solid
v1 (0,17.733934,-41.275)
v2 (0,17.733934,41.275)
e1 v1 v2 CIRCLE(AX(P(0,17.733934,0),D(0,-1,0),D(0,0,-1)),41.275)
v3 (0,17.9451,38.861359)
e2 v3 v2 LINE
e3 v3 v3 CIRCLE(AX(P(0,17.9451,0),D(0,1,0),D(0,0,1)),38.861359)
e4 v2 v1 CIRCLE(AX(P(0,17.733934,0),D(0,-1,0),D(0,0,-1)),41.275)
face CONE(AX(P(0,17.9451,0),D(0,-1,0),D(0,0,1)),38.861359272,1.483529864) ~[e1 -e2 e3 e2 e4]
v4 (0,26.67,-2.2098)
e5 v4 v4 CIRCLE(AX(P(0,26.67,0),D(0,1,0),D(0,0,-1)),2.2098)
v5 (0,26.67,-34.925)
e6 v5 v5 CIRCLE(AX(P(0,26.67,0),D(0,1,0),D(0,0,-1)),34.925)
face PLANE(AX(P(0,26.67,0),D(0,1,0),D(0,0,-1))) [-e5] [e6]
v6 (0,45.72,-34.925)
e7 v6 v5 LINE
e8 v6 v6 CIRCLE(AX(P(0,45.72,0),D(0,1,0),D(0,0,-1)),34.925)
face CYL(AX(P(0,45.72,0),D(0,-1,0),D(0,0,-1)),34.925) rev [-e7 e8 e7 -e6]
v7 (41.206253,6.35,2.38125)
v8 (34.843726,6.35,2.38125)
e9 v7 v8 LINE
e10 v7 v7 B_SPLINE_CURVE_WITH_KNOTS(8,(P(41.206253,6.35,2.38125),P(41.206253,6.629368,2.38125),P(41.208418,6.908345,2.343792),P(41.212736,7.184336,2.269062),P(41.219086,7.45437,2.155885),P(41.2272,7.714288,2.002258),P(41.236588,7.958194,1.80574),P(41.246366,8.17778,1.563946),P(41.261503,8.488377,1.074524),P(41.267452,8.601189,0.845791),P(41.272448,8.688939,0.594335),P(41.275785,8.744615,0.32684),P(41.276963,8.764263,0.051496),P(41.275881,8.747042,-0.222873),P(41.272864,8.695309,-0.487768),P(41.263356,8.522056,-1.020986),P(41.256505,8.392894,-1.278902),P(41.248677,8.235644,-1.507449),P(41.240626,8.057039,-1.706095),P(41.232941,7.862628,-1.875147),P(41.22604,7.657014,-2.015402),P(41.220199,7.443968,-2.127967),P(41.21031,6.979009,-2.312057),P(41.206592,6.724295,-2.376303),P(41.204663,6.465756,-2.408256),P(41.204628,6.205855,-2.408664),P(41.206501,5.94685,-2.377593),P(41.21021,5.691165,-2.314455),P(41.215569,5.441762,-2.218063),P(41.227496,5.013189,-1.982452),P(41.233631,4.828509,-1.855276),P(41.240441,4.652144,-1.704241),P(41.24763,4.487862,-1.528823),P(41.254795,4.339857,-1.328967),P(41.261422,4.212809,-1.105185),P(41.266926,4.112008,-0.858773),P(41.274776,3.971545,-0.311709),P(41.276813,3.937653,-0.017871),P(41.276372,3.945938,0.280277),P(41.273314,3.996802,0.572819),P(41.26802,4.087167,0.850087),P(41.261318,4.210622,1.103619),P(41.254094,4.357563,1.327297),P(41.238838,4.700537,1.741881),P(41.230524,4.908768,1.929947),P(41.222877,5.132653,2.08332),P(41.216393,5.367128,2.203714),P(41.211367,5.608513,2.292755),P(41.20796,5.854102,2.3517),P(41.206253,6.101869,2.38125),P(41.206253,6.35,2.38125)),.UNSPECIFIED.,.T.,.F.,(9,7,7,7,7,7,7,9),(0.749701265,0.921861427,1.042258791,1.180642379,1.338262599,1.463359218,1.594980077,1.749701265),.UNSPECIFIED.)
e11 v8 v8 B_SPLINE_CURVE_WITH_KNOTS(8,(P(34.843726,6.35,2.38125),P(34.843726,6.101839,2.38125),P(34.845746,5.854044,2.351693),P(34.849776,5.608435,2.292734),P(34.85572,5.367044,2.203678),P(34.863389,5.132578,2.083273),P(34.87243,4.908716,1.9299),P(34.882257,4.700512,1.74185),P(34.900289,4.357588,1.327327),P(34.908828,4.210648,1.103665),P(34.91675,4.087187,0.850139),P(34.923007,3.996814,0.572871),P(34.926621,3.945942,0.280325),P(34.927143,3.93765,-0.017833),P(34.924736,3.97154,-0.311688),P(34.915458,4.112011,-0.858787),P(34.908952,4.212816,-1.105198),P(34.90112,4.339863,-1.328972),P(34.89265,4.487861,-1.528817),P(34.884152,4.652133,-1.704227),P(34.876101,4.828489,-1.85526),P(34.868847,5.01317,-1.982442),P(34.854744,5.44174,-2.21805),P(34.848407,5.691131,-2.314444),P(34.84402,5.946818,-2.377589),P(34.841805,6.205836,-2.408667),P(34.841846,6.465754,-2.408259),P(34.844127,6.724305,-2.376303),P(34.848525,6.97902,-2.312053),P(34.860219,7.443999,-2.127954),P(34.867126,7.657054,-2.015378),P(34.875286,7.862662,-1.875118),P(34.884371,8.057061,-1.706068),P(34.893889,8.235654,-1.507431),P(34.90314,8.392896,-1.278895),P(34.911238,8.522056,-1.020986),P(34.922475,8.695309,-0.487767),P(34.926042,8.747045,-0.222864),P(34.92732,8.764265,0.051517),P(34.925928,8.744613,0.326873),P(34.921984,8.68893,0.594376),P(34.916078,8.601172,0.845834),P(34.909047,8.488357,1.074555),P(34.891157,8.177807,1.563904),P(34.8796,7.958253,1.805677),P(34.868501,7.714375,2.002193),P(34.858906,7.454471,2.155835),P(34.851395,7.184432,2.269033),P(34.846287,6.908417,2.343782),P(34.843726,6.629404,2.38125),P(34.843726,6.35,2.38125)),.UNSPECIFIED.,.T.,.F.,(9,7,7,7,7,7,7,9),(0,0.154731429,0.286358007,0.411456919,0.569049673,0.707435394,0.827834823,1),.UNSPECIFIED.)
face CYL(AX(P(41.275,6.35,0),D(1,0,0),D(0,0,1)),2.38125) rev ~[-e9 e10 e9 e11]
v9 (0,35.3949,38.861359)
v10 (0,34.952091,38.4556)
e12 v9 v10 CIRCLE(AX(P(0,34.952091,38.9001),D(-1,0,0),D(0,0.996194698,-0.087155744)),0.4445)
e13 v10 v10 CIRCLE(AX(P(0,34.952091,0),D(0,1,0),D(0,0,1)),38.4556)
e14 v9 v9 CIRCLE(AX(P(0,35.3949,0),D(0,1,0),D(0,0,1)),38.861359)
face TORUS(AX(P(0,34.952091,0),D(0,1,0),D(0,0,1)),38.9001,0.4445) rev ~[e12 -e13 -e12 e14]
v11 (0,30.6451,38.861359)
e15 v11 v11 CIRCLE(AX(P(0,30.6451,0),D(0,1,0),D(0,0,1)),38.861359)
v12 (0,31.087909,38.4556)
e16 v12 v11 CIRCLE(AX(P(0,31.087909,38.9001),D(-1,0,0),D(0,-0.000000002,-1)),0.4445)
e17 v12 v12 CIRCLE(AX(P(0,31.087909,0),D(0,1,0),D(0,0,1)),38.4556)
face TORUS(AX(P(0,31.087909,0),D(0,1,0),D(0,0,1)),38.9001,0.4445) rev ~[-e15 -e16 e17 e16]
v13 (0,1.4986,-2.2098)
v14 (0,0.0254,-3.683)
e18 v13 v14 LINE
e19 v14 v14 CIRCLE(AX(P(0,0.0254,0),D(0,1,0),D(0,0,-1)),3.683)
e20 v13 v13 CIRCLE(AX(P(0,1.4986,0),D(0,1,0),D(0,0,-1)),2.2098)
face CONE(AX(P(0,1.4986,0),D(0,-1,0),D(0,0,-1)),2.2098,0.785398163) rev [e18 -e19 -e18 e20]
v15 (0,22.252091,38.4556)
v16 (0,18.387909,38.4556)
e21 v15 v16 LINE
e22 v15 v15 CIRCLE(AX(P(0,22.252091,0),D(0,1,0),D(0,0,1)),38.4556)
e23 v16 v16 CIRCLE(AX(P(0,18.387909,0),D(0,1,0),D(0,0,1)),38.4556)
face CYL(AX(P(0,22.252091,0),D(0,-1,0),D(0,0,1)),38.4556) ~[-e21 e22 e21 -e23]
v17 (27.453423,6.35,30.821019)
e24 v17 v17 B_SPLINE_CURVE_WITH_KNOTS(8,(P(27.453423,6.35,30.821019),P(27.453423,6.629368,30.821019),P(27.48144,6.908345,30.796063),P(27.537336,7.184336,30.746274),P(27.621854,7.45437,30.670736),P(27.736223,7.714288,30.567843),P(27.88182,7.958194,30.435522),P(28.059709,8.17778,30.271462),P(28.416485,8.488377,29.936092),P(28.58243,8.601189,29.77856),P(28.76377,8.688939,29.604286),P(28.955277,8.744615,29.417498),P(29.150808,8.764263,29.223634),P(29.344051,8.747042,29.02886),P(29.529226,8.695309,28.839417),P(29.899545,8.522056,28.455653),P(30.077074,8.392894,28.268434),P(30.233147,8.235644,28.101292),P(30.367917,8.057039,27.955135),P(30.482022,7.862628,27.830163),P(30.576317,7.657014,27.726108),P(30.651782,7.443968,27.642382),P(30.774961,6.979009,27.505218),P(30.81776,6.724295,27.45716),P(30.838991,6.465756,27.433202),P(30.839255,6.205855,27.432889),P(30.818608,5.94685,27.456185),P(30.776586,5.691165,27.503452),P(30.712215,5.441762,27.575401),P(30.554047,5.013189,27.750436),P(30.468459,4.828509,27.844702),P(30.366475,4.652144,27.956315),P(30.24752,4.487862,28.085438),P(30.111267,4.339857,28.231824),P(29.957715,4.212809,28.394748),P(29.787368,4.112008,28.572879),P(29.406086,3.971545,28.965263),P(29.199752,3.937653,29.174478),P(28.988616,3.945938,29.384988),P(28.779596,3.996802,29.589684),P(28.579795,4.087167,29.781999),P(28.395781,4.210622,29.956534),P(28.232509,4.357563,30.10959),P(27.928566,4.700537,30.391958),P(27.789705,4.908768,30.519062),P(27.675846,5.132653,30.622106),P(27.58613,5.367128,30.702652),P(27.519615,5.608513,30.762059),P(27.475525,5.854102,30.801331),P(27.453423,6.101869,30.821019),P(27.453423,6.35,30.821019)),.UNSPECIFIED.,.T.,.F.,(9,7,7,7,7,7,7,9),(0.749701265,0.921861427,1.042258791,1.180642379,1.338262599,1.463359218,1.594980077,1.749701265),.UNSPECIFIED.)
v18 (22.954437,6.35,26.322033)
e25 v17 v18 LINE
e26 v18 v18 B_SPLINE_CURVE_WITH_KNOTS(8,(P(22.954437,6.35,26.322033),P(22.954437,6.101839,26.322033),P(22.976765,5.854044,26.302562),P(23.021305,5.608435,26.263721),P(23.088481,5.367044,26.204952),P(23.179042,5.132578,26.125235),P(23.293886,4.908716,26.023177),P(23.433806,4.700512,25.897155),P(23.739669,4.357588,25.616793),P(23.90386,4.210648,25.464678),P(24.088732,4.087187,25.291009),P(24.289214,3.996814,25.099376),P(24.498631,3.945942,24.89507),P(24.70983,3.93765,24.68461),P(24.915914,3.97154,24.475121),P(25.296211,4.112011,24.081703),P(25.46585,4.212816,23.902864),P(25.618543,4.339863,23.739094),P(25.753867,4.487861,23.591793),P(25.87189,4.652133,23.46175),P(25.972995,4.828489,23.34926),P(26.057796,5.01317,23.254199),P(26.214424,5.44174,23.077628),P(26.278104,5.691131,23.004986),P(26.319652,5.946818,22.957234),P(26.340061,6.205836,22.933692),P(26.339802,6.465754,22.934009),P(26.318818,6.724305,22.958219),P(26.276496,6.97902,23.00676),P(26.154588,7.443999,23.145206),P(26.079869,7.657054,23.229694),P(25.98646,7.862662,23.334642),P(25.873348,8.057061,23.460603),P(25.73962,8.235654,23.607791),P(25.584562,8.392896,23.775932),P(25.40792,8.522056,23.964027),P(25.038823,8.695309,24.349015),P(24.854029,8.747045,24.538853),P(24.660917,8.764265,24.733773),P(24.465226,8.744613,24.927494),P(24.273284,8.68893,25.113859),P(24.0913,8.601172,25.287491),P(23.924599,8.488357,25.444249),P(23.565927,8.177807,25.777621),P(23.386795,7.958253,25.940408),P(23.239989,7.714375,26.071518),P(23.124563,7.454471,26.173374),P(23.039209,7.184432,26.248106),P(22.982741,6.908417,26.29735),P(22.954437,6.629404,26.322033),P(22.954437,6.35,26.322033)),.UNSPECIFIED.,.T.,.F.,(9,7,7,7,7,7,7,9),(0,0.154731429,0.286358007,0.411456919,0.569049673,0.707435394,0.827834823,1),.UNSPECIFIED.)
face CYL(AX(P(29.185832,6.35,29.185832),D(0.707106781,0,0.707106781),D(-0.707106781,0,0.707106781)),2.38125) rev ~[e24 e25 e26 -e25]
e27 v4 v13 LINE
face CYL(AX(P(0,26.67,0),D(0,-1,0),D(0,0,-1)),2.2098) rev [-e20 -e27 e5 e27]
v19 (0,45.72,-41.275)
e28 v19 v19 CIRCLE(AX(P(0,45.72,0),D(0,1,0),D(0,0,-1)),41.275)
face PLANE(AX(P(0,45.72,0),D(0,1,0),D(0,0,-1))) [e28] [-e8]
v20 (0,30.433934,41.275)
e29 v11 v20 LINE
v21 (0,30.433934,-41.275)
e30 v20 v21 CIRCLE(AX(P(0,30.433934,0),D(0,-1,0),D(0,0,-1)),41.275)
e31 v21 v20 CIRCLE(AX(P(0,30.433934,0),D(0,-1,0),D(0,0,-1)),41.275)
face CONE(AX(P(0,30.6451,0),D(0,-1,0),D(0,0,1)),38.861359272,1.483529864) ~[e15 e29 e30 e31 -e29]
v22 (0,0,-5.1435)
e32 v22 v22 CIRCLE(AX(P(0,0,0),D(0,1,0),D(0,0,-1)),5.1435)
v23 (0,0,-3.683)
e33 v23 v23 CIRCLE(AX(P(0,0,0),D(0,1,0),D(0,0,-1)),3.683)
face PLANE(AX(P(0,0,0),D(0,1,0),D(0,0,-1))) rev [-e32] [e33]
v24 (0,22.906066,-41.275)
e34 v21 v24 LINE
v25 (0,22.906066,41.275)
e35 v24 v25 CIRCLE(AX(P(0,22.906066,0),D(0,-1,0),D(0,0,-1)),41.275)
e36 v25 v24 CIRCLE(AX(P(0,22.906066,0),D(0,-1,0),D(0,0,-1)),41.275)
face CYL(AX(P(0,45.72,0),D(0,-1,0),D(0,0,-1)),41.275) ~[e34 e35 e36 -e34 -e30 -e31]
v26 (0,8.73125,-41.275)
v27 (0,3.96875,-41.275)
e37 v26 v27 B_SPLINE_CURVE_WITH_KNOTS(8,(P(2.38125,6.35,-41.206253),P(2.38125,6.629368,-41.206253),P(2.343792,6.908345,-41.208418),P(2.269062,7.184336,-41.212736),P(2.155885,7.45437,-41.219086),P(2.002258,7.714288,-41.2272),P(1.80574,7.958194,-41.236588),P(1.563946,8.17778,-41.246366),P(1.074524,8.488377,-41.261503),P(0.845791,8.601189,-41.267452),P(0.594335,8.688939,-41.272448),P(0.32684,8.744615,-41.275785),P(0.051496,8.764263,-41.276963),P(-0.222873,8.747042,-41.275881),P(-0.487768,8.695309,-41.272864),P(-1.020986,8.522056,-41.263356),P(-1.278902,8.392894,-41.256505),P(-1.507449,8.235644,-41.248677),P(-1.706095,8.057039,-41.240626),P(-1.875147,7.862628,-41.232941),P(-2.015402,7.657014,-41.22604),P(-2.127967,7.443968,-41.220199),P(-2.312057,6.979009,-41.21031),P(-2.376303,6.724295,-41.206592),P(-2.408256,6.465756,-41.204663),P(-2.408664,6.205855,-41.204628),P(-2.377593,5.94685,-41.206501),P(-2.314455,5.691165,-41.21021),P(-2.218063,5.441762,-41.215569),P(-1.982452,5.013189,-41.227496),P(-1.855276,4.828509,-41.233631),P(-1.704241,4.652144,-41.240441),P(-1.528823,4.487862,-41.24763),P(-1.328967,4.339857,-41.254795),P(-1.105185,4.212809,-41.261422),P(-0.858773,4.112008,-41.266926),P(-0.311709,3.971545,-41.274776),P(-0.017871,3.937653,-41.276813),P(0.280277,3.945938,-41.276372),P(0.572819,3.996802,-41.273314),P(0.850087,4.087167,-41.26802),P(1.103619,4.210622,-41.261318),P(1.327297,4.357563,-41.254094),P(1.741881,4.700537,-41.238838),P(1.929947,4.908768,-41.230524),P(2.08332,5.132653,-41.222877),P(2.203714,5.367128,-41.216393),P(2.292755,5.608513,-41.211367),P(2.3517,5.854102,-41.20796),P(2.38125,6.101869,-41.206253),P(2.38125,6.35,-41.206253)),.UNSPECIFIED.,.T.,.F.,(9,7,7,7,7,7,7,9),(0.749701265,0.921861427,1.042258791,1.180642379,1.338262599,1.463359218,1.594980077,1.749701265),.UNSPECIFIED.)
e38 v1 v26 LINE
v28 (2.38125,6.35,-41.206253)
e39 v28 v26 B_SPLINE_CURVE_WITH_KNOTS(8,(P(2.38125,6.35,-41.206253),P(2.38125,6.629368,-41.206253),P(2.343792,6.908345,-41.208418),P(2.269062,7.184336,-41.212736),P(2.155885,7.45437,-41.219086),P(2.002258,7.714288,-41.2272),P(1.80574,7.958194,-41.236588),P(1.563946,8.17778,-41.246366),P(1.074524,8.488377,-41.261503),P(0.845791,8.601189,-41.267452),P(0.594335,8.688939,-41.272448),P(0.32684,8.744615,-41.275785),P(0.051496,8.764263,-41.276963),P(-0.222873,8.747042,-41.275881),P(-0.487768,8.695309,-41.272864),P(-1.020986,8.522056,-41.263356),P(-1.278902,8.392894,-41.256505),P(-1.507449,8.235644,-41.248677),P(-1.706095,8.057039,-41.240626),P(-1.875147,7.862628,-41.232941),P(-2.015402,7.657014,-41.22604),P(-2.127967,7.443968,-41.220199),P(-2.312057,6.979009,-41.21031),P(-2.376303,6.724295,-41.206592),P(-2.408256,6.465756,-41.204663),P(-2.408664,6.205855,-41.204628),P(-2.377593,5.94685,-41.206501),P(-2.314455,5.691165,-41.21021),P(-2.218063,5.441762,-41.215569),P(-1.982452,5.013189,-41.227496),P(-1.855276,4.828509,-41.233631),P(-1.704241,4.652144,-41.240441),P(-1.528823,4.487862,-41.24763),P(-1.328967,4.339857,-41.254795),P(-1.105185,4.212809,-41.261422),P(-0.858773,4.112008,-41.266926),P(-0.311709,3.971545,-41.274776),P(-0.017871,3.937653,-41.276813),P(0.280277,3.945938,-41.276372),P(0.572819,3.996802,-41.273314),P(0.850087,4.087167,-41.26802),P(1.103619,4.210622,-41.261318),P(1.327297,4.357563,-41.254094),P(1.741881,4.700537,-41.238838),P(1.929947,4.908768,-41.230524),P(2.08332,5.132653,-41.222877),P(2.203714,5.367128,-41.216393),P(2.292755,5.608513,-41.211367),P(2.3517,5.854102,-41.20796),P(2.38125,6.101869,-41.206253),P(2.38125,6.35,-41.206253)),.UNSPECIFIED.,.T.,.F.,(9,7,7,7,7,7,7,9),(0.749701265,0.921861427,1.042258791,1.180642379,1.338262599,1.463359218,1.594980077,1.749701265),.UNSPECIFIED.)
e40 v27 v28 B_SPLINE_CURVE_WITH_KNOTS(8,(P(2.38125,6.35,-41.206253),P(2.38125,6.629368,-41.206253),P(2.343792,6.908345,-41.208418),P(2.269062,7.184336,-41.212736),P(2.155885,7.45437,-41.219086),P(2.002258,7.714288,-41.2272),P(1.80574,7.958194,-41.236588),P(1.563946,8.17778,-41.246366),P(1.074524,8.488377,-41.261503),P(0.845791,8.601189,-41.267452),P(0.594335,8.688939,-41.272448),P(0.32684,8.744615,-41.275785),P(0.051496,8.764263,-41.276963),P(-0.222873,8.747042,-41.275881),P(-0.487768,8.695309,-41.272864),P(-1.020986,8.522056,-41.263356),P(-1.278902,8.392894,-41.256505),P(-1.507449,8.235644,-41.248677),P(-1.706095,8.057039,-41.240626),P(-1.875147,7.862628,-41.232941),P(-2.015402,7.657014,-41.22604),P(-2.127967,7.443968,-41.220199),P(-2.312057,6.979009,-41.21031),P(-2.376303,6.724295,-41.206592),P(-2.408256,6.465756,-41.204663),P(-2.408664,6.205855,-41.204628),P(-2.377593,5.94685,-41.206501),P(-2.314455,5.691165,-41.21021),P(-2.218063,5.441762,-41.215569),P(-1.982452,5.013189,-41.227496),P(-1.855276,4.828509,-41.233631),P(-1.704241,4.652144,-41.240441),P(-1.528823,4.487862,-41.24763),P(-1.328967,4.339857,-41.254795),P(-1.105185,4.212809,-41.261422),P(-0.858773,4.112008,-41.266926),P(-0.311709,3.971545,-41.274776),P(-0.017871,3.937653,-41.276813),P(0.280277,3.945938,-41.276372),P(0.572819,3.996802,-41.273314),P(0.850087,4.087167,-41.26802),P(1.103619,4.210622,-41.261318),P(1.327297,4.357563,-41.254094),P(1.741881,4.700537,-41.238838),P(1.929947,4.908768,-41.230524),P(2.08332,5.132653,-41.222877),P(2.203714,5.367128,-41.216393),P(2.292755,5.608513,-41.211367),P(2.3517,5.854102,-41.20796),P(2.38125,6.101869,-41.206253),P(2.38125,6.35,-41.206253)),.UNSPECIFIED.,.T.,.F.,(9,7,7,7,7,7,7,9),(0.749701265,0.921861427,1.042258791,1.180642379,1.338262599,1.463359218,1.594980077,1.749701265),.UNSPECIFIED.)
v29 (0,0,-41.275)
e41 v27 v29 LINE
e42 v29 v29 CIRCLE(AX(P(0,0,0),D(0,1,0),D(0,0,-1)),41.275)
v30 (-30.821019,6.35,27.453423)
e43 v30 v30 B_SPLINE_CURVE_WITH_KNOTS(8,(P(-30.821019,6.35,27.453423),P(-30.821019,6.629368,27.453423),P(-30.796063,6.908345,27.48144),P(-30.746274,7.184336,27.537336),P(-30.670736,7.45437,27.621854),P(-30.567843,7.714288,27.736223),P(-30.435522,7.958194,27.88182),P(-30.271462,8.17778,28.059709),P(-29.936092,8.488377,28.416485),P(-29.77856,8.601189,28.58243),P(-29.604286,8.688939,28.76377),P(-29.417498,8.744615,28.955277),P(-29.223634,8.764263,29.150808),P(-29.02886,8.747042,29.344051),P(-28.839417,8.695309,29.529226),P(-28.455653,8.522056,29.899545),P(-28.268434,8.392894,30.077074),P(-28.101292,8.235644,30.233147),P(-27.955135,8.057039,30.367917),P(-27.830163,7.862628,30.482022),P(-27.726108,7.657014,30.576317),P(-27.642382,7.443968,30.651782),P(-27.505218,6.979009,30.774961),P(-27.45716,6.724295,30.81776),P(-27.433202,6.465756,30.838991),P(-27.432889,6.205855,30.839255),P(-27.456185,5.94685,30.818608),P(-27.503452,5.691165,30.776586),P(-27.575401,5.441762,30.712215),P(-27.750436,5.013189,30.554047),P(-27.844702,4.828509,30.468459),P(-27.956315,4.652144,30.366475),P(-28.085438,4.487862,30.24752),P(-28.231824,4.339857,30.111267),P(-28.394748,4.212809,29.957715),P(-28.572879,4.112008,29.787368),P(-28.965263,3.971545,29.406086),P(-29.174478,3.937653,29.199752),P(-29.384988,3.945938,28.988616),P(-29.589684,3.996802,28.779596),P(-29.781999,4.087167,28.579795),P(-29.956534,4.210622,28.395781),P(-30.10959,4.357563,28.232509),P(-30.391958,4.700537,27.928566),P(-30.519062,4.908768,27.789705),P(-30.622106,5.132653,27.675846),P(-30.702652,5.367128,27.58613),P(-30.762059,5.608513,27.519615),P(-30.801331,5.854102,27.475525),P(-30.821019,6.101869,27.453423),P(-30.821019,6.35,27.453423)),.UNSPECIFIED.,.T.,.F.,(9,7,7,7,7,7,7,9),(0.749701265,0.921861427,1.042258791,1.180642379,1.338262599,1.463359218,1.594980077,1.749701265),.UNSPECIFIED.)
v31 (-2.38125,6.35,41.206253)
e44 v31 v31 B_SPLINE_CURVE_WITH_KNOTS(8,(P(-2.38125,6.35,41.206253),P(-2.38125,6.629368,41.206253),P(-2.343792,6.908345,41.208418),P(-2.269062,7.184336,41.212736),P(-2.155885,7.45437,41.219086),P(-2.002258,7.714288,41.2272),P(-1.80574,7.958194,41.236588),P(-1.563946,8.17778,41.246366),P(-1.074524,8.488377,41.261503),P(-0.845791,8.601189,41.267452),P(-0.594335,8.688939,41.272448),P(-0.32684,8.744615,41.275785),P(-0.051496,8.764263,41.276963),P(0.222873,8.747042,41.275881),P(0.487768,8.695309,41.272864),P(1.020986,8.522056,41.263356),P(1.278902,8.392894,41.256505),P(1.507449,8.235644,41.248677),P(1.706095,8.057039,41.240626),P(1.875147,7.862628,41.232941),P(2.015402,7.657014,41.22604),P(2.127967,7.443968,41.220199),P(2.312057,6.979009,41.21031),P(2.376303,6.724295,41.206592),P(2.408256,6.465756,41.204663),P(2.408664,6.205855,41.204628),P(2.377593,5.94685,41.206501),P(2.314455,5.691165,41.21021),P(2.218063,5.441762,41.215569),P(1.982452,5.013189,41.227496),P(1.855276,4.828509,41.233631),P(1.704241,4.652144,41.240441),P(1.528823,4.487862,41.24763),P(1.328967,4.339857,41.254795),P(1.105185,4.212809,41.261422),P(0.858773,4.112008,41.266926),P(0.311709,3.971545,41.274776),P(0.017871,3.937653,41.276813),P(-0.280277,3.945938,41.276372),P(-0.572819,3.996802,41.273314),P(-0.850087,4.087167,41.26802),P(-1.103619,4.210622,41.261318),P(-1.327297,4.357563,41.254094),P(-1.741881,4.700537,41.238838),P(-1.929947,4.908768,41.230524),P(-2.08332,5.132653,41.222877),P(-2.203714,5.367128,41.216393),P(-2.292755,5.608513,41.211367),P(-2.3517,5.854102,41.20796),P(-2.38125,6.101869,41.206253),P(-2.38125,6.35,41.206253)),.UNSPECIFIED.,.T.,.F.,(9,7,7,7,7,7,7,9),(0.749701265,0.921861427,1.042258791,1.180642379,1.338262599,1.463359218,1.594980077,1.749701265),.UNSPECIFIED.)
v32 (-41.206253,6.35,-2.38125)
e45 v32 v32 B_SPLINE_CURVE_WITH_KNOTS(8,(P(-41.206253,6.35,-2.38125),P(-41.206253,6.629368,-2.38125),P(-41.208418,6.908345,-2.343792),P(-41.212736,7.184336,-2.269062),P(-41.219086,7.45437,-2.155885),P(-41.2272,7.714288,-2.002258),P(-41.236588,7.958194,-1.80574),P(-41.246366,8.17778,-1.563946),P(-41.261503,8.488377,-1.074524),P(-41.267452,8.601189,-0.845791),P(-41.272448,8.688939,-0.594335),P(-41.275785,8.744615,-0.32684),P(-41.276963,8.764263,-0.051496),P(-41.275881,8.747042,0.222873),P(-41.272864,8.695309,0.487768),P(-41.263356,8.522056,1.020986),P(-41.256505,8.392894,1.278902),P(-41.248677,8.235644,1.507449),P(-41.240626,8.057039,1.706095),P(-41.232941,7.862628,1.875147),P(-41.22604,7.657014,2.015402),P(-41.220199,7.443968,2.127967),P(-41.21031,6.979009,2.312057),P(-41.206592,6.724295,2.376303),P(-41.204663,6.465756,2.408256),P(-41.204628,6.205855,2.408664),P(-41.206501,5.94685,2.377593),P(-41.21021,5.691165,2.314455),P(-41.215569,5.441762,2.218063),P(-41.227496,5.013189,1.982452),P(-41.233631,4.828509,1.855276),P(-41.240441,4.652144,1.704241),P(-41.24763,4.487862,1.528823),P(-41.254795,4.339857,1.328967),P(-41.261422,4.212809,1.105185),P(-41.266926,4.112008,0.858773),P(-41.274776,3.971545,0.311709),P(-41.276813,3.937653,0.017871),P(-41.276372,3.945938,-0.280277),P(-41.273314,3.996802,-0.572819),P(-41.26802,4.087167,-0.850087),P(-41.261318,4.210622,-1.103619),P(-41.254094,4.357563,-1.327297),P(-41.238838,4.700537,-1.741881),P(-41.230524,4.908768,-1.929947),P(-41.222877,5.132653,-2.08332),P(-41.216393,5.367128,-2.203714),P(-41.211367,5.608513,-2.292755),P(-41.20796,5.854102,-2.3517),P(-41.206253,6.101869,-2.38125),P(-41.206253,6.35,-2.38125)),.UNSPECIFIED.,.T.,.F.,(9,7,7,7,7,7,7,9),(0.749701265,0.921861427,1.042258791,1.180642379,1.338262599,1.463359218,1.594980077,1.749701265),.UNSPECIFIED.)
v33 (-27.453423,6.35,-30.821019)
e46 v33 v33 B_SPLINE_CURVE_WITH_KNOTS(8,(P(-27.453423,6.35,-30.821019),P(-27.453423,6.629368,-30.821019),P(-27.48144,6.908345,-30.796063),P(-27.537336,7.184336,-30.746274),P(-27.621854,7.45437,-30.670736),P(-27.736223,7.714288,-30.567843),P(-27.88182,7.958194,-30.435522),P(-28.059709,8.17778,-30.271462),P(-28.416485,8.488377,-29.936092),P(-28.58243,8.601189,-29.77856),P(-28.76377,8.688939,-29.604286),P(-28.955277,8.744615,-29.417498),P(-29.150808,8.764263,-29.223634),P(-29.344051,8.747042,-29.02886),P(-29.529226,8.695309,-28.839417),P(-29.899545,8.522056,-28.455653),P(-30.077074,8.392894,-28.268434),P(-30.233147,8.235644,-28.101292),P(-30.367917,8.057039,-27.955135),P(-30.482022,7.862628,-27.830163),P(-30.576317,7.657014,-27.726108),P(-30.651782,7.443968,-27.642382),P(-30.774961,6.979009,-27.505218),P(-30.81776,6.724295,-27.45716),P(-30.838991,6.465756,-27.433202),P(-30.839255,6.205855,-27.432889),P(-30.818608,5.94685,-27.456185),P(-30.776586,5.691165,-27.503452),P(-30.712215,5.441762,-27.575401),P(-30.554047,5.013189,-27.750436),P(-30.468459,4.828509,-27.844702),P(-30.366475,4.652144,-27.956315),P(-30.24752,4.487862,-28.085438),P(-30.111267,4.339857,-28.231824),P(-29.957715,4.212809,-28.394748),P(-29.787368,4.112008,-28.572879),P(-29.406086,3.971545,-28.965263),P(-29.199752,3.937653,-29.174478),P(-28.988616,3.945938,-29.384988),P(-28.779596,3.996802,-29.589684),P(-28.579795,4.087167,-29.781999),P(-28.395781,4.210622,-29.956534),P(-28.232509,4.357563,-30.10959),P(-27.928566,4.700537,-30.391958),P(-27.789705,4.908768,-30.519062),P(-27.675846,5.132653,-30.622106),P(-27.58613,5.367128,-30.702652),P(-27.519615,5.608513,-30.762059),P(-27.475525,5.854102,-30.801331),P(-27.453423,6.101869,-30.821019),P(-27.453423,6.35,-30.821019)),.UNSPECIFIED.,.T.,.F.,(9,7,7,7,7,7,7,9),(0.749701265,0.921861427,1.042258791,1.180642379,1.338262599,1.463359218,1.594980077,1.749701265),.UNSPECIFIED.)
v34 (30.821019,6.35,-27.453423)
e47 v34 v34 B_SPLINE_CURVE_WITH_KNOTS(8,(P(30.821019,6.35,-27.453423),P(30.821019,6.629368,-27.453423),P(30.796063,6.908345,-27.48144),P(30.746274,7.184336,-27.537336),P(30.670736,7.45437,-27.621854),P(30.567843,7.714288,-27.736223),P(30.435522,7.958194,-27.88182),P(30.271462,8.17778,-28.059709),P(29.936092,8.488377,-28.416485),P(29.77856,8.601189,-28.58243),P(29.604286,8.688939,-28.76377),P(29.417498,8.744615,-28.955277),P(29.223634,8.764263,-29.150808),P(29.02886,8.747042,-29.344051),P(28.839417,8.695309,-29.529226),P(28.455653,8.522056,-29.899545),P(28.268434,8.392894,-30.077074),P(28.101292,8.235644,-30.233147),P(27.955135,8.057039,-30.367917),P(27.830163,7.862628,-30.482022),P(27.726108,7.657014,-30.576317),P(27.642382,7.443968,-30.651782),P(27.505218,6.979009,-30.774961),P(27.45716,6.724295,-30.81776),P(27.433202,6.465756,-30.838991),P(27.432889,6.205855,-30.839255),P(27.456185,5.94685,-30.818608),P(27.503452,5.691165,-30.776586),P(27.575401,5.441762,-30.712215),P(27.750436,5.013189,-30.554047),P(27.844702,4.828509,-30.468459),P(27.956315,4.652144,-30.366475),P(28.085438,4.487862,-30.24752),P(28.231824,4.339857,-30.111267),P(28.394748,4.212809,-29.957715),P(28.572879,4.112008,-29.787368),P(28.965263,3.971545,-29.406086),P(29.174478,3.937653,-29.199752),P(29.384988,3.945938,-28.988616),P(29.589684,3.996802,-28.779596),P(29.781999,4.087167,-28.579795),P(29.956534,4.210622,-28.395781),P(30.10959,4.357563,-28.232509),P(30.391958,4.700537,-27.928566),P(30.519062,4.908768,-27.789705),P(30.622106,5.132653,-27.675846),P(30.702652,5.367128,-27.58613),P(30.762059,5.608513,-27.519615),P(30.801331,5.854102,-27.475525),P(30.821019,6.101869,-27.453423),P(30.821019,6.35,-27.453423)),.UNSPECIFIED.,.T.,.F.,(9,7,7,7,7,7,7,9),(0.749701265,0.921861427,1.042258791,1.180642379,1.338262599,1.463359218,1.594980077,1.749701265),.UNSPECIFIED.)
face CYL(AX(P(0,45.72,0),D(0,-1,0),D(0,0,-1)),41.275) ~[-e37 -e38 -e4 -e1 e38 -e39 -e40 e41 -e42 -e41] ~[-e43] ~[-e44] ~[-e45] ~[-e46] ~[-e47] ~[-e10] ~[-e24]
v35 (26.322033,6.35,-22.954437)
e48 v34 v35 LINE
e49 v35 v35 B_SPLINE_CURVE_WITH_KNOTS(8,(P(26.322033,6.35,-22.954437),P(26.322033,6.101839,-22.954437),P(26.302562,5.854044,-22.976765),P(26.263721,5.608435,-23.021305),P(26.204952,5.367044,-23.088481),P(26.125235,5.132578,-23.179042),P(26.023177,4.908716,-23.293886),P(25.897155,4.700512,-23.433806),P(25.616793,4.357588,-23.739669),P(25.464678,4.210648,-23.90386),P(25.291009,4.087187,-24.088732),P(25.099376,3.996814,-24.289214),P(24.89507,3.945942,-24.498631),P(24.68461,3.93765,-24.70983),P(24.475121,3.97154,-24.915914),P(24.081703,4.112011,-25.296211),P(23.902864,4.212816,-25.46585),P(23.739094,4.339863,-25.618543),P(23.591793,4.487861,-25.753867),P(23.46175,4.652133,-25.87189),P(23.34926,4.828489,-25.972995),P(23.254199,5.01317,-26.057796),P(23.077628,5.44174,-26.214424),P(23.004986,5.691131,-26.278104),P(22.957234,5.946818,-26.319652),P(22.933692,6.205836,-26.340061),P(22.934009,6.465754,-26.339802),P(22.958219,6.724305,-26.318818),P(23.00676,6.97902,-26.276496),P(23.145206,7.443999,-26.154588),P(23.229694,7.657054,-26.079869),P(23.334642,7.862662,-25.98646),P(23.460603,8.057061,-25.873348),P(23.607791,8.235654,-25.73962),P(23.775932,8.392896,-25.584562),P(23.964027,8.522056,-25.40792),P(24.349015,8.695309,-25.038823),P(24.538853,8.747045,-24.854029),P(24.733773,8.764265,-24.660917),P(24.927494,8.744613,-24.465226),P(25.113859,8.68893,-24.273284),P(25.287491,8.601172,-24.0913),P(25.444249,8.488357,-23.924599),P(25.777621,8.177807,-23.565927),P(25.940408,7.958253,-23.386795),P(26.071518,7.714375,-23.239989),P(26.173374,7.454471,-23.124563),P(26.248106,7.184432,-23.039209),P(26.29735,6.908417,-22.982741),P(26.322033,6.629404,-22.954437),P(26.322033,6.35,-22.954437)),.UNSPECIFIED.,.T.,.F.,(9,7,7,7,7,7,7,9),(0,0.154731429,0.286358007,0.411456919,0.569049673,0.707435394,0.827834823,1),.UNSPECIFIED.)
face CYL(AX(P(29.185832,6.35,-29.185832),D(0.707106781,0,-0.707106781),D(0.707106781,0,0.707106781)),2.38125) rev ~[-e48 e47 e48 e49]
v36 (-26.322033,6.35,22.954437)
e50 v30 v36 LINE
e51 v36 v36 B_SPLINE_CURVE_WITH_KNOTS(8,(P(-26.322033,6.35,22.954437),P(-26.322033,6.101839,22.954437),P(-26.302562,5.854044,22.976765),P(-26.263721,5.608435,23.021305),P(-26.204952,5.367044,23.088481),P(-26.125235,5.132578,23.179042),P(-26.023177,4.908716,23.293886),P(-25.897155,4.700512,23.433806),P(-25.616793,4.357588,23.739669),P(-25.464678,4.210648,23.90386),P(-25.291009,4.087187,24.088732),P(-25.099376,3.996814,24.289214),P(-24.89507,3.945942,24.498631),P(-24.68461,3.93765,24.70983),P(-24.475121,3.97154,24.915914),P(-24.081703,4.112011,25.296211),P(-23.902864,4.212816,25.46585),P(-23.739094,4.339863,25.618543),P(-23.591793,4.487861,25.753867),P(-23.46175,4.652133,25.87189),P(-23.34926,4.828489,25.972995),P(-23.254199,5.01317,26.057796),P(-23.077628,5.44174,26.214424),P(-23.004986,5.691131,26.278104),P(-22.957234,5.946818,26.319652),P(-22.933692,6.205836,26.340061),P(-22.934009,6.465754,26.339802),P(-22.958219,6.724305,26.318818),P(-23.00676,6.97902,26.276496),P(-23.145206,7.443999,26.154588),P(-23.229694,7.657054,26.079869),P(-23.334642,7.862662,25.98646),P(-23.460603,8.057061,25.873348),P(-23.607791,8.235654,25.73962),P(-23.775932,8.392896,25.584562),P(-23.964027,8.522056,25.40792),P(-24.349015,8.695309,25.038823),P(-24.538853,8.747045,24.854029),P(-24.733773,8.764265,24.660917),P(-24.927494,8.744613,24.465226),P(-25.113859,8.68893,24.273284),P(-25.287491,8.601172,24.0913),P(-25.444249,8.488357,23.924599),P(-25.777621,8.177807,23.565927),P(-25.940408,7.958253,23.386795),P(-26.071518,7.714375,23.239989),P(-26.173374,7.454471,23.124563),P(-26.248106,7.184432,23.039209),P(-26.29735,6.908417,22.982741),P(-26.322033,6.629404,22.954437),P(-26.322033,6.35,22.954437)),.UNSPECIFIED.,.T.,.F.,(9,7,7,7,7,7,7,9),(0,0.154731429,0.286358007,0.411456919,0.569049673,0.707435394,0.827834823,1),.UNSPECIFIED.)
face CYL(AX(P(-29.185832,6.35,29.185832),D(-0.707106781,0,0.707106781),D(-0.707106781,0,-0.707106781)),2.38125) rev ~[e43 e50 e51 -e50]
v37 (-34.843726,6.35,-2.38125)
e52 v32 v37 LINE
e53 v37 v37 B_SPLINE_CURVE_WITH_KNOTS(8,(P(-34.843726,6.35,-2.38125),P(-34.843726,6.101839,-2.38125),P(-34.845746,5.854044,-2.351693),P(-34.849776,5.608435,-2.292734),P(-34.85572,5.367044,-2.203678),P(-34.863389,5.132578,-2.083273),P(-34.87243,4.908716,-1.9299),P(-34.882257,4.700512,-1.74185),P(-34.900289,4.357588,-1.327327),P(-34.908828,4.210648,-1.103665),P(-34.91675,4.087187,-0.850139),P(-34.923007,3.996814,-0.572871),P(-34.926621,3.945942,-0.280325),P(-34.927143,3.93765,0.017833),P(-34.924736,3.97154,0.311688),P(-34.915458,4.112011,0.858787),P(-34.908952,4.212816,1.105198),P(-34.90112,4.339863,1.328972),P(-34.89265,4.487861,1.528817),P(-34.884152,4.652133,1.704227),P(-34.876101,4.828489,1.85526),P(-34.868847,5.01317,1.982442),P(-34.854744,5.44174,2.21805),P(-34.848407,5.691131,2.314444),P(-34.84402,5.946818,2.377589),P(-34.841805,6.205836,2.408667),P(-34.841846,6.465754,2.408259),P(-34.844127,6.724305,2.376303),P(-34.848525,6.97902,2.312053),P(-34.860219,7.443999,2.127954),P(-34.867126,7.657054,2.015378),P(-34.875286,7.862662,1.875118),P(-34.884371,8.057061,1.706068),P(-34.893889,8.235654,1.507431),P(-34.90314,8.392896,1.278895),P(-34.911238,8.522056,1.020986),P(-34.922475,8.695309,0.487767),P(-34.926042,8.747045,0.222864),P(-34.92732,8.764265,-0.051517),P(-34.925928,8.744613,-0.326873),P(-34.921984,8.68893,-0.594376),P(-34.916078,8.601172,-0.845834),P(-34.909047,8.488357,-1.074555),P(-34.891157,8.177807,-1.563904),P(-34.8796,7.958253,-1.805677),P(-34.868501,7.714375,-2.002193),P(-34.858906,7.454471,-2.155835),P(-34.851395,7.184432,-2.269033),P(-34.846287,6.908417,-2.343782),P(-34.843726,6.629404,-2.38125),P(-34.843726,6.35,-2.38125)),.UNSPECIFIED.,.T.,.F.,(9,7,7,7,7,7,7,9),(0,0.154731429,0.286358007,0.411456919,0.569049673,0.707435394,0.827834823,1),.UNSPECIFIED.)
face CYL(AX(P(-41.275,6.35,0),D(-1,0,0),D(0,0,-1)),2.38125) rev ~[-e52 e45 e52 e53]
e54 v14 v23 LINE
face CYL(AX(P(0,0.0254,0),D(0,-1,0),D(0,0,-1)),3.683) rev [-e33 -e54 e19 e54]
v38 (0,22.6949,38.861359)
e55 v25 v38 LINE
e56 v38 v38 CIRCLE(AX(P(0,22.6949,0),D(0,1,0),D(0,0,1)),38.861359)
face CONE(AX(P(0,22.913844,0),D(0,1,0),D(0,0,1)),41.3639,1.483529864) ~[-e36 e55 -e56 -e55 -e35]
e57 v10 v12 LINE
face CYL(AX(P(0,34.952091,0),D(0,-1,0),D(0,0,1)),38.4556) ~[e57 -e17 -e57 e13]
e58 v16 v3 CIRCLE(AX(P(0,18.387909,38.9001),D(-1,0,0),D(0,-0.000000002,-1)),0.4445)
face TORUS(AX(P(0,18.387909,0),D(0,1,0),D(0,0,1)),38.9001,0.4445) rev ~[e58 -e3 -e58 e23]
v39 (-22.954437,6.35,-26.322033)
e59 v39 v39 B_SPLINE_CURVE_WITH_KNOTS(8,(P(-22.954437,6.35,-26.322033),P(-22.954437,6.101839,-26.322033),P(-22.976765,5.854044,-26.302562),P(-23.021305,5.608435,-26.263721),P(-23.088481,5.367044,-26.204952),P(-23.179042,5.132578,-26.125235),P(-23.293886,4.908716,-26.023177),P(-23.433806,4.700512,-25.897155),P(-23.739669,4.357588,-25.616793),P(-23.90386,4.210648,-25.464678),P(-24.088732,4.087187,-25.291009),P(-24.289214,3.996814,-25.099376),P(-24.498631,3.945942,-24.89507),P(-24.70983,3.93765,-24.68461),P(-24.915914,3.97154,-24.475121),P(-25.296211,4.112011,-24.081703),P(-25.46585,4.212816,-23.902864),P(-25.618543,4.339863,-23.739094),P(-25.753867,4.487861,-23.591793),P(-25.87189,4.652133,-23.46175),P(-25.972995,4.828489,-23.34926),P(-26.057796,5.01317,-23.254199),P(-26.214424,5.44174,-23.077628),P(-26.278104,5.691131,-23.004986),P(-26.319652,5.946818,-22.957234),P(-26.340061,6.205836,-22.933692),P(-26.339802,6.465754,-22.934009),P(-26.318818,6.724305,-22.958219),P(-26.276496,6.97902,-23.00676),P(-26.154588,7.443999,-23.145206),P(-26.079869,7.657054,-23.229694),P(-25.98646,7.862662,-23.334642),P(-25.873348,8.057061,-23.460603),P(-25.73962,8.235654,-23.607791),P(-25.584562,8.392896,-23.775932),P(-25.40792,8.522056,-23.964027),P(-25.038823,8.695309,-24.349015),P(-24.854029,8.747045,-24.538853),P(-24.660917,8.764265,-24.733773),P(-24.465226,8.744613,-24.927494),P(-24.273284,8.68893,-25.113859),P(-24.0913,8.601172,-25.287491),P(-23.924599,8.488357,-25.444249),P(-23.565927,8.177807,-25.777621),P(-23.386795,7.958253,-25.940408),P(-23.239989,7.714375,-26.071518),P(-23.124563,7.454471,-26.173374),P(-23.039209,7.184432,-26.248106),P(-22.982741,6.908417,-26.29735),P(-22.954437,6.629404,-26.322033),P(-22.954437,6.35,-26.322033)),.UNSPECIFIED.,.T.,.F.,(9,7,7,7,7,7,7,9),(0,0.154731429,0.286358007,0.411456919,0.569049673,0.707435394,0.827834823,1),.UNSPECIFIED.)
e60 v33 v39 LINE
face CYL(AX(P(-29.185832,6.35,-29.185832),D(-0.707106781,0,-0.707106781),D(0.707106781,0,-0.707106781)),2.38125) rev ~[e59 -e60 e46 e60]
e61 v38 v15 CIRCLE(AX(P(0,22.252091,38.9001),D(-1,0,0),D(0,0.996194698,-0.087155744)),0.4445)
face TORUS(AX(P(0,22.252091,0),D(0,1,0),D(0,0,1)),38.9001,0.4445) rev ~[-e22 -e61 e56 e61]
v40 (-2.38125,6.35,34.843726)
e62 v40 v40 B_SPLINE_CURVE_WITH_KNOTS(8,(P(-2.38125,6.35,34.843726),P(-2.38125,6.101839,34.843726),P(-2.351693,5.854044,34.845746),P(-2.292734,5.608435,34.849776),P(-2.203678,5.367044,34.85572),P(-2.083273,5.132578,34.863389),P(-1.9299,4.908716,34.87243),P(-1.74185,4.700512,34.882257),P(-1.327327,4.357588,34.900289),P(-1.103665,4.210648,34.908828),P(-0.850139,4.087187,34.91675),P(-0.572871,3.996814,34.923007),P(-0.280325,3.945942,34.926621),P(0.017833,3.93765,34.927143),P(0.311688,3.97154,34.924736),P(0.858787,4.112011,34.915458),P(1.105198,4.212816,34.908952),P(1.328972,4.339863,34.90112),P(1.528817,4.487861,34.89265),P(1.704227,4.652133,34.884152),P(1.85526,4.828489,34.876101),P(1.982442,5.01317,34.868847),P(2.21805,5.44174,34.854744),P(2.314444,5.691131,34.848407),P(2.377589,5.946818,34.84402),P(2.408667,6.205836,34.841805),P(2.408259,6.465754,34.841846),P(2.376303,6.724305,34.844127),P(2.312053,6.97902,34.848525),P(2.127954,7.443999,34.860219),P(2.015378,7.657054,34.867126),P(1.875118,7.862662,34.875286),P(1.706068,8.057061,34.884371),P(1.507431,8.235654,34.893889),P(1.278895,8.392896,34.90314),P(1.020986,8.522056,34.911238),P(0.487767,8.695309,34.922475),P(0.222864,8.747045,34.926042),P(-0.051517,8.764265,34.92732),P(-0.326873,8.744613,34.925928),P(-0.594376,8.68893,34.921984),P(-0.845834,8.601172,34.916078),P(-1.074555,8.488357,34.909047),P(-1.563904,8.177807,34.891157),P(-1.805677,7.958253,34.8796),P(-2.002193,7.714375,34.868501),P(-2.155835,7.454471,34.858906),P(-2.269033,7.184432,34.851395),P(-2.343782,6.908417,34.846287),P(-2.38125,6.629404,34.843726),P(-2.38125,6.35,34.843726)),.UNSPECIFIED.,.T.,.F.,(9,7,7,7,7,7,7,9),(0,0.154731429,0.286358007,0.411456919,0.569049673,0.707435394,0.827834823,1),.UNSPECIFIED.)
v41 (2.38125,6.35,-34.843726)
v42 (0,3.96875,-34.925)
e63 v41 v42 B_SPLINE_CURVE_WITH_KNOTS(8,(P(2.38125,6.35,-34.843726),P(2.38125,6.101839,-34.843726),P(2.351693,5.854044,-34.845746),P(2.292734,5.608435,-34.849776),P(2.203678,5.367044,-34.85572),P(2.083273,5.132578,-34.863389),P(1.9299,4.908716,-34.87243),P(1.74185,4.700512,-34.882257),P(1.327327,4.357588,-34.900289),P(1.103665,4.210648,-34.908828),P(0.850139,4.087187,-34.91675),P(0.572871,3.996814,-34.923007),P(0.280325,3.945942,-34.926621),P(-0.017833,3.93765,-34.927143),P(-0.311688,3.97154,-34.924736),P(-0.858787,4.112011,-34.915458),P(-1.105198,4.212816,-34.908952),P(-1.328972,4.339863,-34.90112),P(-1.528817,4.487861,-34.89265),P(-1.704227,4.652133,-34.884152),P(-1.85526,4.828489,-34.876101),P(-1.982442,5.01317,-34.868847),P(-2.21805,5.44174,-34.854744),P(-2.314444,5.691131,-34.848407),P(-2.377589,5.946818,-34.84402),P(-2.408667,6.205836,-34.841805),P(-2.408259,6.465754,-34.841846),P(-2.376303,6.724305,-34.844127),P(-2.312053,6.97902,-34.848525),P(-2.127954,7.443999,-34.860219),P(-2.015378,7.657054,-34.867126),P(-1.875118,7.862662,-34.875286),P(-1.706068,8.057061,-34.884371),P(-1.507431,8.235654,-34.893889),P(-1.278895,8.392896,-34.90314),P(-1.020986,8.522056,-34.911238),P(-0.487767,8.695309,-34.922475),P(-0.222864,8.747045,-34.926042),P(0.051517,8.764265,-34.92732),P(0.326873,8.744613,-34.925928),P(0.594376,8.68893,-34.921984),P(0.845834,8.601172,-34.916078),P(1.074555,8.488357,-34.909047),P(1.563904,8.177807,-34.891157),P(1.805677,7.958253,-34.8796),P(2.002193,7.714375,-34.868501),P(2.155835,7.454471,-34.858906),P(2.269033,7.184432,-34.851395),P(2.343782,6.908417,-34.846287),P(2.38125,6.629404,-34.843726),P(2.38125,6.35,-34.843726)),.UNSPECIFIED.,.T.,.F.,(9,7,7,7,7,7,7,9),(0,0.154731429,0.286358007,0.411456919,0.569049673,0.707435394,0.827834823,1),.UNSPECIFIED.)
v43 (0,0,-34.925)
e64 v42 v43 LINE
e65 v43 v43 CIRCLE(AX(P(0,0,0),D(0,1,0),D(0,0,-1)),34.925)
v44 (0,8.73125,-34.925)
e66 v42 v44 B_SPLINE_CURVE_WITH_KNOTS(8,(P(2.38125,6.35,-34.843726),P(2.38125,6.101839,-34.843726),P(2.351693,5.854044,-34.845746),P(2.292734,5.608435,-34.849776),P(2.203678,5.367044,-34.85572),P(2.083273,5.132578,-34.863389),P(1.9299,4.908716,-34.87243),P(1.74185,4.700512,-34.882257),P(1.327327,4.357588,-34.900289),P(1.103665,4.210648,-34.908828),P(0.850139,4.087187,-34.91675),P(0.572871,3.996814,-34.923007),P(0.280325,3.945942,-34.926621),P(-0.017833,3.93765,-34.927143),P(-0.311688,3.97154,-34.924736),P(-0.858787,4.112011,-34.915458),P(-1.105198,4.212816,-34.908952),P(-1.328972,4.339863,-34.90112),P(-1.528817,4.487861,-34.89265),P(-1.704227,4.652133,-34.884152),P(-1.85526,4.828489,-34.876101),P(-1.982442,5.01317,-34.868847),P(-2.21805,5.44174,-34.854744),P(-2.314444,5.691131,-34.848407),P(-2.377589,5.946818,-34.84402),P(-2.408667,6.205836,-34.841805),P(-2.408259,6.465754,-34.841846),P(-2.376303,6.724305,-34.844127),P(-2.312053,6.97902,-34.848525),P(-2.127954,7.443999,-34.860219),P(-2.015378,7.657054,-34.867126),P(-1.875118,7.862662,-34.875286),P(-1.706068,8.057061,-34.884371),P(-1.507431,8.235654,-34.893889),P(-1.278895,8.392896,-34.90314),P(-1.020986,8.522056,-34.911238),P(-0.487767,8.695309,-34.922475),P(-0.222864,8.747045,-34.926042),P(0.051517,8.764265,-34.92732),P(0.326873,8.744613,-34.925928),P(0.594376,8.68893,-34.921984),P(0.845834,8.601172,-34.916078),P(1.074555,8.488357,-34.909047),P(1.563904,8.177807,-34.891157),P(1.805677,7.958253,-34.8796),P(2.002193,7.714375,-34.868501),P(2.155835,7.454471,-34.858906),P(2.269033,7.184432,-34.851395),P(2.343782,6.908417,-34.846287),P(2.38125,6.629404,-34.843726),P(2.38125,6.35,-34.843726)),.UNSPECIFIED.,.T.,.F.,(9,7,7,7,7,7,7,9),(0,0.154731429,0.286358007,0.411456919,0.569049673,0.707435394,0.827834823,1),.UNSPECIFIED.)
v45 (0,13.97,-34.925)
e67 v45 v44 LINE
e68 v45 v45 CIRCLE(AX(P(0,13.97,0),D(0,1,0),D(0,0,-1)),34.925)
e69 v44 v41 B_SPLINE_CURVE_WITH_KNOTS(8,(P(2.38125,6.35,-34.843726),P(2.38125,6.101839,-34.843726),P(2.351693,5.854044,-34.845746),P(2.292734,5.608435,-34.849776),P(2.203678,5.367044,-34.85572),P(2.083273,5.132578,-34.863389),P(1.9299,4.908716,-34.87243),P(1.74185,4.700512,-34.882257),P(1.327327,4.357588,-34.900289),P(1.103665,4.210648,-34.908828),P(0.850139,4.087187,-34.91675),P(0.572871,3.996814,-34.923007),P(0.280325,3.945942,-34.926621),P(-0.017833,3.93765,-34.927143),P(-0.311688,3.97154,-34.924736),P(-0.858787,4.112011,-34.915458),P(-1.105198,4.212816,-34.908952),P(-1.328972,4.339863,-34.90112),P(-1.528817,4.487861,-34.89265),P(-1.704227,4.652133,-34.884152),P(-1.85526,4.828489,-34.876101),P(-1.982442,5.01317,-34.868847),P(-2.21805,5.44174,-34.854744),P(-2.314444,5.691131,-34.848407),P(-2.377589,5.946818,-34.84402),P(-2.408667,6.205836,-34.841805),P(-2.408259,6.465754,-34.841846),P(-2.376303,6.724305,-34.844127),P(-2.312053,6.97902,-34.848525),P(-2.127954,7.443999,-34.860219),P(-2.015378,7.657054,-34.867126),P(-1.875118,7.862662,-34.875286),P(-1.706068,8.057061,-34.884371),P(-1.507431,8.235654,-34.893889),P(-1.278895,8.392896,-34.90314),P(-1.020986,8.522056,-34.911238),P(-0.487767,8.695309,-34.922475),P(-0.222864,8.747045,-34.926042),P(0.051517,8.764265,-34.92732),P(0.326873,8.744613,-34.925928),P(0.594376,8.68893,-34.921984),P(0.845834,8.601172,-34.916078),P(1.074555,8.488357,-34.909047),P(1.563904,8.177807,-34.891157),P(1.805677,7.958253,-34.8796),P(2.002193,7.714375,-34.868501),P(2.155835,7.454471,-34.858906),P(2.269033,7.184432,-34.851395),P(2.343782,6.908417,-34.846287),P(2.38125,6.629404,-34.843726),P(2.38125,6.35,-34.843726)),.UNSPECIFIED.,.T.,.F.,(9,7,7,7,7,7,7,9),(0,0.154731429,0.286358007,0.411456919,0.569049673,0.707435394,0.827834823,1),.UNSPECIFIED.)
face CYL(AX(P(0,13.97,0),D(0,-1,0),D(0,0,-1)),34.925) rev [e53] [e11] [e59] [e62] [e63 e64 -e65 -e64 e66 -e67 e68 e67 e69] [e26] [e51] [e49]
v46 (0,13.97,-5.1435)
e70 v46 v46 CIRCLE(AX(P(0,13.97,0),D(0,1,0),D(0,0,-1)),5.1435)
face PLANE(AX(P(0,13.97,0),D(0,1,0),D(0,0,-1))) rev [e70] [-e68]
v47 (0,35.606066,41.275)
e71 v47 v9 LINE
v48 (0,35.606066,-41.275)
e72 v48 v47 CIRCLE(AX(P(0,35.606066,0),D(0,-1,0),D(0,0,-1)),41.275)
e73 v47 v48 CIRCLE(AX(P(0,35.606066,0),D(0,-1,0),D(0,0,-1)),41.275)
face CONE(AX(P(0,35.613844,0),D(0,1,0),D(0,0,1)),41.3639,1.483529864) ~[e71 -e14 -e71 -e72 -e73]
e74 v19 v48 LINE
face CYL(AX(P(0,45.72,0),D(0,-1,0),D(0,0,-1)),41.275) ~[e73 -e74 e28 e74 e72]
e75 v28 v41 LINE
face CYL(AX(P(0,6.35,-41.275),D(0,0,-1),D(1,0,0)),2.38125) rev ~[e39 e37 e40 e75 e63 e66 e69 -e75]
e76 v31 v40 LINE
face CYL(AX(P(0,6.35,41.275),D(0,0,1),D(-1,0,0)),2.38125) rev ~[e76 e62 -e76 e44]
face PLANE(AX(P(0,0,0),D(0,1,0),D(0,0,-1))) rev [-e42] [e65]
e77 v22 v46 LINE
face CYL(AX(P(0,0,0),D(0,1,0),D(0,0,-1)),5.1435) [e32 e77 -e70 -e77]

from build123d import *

# Parameters (mm, degrees)
LPATTERN1_COUNT                     = 2
LPATTERN1_PITCH                     = 12.7
F_3_16_0_1875_DIAMETER_HOLE1_REACH  = 102.34
F_3_16_0_1875_DIAMETER_HOLE1_BORE_R = 2.38125
CIRPATTERN1_COUNT                   = 8


with BuildPart() as part:
    # Sketch1 → Revolve1 (revolve)
    with BuildSketch(Plane.XY, mode=Mode.PRIVATE) as revolve1_sk:
        Polygon((-41.275, 13.97), (-41.275, 45.72), (-34.925, 45.72), (-34.925, 26.67), (-2.2098, 26.67), (-2.2098, 1.4986), (-3.683, 0.0254), (-3.683, 0), (-5.1435, 0), (-5.1435, 13.97), (-34.925, 13.97), (-34.925, 0), (-41.275, 0), align=None)
    revolve(revolve1_sk.sketch.rotate(Axis((0, 0, 0), (0, 1, 0)), 270), axis=Axis((0, 0, 0), (0, 1, 0)))

    # Sketch3 → Groove for AS 568-234, O-Ring1 (revolve, cut)
    with BuildSketch(Plane(origin=(0, 0, 0), x_dir=(0, 0, -1), z_dir=(-1, 0, 0)), mode=Mode.PRIVATE) as groove_for_as_568_234_o_ring1_sk:
        with BuildLine():
            Line((38.861359272, -30.6451), (41.3639, -30.426156056))
            Line((41.3639, -30.426156056), (41.3639, -35.613843944))
            Line((41.3639, -35.613843944), (38.861359272, -35.3949))
            ThreePointArc((38.861359272, -35.3949), (38.572380224, -35.252391304), (38.4556, -34.952091457))
            Line((38.4556, -34.952091457), (38.4556, -31.087908543))
            ThreePointArc((38.4556, -31.087908543), (38.572380224, -30.787608696), (38.861359272, -30.6451))
        make_face()
    groove_for_as_568_234_o_ring1 = revolve(groove_for_as_568_234_o_ring1_sk.sketch.rotate(Axis((0, -50, 0), (0, 1, 0)), 180), axis=Axis((0, -50, 0), (0, 1, 0)), mode=Mode.SUBTRACT)

    # LPattern1: Groove for AS 568-234, O-Ring1 ×2
    with Locations(*[(0, -i * LPATTERN1_PITCH, 0) for i in range(1, LPATTERN1_COUNT)]):
        add(groove_for_as_568_234_o_ring1, mode=Mode.SUBTRACT)

    # 3/16 (0.1875) Diameter Hole1 bore (on position points) → 3/16 (0.1875) Diameter Hole1 (cut, up to next)
    with BuildSketch(Plane(origin=(41.275, 6.35, 0), x_dir=(0, 0, 1), z_dir=(1, 0, 0)), mode=Mode.PRIVATE) as f_3_16_0_1875_diameter_hole1_sk1:
        Circle(F_3_16_0_1875_DIAMETER_HOLE1_BORE_R)
    f_3_16_0_1875_diameter_hole1_tool1 = extrude(f_3_16_0_1875_diameter_hole1_sk1.sketch, amount=-F_3_16_0_1875_DIAMETER_HOLE1_REACH, mode=Mode.PRIVATE) & part.part
    f_3_16_0_1875_diameter_hole1 = f_3_16_0_1875_diameter_hole1_tool1.solids().sort_by_distance((41.275, 6.35, 0))[0]
    add(f_3_16_0_1875_diameter_hole1, mode=Mode.SUBTRACT)

    # CirPattern1: 3/16 (0.1875) Diameter Hole1 ×8 about axis
    cirpattern1_axis = Axis((0, -2.286, 0), (0, 1, 0))
    for i in range(1, CIRPATTERN1_COUNT):
        add(f_3_16_0_1875_diameter_hole1.rotate(cirpattern1_axis, i * 360 / CIRPATTERN1_COUNT), mode=Mode.SUBTRACT)


solid = part.part
